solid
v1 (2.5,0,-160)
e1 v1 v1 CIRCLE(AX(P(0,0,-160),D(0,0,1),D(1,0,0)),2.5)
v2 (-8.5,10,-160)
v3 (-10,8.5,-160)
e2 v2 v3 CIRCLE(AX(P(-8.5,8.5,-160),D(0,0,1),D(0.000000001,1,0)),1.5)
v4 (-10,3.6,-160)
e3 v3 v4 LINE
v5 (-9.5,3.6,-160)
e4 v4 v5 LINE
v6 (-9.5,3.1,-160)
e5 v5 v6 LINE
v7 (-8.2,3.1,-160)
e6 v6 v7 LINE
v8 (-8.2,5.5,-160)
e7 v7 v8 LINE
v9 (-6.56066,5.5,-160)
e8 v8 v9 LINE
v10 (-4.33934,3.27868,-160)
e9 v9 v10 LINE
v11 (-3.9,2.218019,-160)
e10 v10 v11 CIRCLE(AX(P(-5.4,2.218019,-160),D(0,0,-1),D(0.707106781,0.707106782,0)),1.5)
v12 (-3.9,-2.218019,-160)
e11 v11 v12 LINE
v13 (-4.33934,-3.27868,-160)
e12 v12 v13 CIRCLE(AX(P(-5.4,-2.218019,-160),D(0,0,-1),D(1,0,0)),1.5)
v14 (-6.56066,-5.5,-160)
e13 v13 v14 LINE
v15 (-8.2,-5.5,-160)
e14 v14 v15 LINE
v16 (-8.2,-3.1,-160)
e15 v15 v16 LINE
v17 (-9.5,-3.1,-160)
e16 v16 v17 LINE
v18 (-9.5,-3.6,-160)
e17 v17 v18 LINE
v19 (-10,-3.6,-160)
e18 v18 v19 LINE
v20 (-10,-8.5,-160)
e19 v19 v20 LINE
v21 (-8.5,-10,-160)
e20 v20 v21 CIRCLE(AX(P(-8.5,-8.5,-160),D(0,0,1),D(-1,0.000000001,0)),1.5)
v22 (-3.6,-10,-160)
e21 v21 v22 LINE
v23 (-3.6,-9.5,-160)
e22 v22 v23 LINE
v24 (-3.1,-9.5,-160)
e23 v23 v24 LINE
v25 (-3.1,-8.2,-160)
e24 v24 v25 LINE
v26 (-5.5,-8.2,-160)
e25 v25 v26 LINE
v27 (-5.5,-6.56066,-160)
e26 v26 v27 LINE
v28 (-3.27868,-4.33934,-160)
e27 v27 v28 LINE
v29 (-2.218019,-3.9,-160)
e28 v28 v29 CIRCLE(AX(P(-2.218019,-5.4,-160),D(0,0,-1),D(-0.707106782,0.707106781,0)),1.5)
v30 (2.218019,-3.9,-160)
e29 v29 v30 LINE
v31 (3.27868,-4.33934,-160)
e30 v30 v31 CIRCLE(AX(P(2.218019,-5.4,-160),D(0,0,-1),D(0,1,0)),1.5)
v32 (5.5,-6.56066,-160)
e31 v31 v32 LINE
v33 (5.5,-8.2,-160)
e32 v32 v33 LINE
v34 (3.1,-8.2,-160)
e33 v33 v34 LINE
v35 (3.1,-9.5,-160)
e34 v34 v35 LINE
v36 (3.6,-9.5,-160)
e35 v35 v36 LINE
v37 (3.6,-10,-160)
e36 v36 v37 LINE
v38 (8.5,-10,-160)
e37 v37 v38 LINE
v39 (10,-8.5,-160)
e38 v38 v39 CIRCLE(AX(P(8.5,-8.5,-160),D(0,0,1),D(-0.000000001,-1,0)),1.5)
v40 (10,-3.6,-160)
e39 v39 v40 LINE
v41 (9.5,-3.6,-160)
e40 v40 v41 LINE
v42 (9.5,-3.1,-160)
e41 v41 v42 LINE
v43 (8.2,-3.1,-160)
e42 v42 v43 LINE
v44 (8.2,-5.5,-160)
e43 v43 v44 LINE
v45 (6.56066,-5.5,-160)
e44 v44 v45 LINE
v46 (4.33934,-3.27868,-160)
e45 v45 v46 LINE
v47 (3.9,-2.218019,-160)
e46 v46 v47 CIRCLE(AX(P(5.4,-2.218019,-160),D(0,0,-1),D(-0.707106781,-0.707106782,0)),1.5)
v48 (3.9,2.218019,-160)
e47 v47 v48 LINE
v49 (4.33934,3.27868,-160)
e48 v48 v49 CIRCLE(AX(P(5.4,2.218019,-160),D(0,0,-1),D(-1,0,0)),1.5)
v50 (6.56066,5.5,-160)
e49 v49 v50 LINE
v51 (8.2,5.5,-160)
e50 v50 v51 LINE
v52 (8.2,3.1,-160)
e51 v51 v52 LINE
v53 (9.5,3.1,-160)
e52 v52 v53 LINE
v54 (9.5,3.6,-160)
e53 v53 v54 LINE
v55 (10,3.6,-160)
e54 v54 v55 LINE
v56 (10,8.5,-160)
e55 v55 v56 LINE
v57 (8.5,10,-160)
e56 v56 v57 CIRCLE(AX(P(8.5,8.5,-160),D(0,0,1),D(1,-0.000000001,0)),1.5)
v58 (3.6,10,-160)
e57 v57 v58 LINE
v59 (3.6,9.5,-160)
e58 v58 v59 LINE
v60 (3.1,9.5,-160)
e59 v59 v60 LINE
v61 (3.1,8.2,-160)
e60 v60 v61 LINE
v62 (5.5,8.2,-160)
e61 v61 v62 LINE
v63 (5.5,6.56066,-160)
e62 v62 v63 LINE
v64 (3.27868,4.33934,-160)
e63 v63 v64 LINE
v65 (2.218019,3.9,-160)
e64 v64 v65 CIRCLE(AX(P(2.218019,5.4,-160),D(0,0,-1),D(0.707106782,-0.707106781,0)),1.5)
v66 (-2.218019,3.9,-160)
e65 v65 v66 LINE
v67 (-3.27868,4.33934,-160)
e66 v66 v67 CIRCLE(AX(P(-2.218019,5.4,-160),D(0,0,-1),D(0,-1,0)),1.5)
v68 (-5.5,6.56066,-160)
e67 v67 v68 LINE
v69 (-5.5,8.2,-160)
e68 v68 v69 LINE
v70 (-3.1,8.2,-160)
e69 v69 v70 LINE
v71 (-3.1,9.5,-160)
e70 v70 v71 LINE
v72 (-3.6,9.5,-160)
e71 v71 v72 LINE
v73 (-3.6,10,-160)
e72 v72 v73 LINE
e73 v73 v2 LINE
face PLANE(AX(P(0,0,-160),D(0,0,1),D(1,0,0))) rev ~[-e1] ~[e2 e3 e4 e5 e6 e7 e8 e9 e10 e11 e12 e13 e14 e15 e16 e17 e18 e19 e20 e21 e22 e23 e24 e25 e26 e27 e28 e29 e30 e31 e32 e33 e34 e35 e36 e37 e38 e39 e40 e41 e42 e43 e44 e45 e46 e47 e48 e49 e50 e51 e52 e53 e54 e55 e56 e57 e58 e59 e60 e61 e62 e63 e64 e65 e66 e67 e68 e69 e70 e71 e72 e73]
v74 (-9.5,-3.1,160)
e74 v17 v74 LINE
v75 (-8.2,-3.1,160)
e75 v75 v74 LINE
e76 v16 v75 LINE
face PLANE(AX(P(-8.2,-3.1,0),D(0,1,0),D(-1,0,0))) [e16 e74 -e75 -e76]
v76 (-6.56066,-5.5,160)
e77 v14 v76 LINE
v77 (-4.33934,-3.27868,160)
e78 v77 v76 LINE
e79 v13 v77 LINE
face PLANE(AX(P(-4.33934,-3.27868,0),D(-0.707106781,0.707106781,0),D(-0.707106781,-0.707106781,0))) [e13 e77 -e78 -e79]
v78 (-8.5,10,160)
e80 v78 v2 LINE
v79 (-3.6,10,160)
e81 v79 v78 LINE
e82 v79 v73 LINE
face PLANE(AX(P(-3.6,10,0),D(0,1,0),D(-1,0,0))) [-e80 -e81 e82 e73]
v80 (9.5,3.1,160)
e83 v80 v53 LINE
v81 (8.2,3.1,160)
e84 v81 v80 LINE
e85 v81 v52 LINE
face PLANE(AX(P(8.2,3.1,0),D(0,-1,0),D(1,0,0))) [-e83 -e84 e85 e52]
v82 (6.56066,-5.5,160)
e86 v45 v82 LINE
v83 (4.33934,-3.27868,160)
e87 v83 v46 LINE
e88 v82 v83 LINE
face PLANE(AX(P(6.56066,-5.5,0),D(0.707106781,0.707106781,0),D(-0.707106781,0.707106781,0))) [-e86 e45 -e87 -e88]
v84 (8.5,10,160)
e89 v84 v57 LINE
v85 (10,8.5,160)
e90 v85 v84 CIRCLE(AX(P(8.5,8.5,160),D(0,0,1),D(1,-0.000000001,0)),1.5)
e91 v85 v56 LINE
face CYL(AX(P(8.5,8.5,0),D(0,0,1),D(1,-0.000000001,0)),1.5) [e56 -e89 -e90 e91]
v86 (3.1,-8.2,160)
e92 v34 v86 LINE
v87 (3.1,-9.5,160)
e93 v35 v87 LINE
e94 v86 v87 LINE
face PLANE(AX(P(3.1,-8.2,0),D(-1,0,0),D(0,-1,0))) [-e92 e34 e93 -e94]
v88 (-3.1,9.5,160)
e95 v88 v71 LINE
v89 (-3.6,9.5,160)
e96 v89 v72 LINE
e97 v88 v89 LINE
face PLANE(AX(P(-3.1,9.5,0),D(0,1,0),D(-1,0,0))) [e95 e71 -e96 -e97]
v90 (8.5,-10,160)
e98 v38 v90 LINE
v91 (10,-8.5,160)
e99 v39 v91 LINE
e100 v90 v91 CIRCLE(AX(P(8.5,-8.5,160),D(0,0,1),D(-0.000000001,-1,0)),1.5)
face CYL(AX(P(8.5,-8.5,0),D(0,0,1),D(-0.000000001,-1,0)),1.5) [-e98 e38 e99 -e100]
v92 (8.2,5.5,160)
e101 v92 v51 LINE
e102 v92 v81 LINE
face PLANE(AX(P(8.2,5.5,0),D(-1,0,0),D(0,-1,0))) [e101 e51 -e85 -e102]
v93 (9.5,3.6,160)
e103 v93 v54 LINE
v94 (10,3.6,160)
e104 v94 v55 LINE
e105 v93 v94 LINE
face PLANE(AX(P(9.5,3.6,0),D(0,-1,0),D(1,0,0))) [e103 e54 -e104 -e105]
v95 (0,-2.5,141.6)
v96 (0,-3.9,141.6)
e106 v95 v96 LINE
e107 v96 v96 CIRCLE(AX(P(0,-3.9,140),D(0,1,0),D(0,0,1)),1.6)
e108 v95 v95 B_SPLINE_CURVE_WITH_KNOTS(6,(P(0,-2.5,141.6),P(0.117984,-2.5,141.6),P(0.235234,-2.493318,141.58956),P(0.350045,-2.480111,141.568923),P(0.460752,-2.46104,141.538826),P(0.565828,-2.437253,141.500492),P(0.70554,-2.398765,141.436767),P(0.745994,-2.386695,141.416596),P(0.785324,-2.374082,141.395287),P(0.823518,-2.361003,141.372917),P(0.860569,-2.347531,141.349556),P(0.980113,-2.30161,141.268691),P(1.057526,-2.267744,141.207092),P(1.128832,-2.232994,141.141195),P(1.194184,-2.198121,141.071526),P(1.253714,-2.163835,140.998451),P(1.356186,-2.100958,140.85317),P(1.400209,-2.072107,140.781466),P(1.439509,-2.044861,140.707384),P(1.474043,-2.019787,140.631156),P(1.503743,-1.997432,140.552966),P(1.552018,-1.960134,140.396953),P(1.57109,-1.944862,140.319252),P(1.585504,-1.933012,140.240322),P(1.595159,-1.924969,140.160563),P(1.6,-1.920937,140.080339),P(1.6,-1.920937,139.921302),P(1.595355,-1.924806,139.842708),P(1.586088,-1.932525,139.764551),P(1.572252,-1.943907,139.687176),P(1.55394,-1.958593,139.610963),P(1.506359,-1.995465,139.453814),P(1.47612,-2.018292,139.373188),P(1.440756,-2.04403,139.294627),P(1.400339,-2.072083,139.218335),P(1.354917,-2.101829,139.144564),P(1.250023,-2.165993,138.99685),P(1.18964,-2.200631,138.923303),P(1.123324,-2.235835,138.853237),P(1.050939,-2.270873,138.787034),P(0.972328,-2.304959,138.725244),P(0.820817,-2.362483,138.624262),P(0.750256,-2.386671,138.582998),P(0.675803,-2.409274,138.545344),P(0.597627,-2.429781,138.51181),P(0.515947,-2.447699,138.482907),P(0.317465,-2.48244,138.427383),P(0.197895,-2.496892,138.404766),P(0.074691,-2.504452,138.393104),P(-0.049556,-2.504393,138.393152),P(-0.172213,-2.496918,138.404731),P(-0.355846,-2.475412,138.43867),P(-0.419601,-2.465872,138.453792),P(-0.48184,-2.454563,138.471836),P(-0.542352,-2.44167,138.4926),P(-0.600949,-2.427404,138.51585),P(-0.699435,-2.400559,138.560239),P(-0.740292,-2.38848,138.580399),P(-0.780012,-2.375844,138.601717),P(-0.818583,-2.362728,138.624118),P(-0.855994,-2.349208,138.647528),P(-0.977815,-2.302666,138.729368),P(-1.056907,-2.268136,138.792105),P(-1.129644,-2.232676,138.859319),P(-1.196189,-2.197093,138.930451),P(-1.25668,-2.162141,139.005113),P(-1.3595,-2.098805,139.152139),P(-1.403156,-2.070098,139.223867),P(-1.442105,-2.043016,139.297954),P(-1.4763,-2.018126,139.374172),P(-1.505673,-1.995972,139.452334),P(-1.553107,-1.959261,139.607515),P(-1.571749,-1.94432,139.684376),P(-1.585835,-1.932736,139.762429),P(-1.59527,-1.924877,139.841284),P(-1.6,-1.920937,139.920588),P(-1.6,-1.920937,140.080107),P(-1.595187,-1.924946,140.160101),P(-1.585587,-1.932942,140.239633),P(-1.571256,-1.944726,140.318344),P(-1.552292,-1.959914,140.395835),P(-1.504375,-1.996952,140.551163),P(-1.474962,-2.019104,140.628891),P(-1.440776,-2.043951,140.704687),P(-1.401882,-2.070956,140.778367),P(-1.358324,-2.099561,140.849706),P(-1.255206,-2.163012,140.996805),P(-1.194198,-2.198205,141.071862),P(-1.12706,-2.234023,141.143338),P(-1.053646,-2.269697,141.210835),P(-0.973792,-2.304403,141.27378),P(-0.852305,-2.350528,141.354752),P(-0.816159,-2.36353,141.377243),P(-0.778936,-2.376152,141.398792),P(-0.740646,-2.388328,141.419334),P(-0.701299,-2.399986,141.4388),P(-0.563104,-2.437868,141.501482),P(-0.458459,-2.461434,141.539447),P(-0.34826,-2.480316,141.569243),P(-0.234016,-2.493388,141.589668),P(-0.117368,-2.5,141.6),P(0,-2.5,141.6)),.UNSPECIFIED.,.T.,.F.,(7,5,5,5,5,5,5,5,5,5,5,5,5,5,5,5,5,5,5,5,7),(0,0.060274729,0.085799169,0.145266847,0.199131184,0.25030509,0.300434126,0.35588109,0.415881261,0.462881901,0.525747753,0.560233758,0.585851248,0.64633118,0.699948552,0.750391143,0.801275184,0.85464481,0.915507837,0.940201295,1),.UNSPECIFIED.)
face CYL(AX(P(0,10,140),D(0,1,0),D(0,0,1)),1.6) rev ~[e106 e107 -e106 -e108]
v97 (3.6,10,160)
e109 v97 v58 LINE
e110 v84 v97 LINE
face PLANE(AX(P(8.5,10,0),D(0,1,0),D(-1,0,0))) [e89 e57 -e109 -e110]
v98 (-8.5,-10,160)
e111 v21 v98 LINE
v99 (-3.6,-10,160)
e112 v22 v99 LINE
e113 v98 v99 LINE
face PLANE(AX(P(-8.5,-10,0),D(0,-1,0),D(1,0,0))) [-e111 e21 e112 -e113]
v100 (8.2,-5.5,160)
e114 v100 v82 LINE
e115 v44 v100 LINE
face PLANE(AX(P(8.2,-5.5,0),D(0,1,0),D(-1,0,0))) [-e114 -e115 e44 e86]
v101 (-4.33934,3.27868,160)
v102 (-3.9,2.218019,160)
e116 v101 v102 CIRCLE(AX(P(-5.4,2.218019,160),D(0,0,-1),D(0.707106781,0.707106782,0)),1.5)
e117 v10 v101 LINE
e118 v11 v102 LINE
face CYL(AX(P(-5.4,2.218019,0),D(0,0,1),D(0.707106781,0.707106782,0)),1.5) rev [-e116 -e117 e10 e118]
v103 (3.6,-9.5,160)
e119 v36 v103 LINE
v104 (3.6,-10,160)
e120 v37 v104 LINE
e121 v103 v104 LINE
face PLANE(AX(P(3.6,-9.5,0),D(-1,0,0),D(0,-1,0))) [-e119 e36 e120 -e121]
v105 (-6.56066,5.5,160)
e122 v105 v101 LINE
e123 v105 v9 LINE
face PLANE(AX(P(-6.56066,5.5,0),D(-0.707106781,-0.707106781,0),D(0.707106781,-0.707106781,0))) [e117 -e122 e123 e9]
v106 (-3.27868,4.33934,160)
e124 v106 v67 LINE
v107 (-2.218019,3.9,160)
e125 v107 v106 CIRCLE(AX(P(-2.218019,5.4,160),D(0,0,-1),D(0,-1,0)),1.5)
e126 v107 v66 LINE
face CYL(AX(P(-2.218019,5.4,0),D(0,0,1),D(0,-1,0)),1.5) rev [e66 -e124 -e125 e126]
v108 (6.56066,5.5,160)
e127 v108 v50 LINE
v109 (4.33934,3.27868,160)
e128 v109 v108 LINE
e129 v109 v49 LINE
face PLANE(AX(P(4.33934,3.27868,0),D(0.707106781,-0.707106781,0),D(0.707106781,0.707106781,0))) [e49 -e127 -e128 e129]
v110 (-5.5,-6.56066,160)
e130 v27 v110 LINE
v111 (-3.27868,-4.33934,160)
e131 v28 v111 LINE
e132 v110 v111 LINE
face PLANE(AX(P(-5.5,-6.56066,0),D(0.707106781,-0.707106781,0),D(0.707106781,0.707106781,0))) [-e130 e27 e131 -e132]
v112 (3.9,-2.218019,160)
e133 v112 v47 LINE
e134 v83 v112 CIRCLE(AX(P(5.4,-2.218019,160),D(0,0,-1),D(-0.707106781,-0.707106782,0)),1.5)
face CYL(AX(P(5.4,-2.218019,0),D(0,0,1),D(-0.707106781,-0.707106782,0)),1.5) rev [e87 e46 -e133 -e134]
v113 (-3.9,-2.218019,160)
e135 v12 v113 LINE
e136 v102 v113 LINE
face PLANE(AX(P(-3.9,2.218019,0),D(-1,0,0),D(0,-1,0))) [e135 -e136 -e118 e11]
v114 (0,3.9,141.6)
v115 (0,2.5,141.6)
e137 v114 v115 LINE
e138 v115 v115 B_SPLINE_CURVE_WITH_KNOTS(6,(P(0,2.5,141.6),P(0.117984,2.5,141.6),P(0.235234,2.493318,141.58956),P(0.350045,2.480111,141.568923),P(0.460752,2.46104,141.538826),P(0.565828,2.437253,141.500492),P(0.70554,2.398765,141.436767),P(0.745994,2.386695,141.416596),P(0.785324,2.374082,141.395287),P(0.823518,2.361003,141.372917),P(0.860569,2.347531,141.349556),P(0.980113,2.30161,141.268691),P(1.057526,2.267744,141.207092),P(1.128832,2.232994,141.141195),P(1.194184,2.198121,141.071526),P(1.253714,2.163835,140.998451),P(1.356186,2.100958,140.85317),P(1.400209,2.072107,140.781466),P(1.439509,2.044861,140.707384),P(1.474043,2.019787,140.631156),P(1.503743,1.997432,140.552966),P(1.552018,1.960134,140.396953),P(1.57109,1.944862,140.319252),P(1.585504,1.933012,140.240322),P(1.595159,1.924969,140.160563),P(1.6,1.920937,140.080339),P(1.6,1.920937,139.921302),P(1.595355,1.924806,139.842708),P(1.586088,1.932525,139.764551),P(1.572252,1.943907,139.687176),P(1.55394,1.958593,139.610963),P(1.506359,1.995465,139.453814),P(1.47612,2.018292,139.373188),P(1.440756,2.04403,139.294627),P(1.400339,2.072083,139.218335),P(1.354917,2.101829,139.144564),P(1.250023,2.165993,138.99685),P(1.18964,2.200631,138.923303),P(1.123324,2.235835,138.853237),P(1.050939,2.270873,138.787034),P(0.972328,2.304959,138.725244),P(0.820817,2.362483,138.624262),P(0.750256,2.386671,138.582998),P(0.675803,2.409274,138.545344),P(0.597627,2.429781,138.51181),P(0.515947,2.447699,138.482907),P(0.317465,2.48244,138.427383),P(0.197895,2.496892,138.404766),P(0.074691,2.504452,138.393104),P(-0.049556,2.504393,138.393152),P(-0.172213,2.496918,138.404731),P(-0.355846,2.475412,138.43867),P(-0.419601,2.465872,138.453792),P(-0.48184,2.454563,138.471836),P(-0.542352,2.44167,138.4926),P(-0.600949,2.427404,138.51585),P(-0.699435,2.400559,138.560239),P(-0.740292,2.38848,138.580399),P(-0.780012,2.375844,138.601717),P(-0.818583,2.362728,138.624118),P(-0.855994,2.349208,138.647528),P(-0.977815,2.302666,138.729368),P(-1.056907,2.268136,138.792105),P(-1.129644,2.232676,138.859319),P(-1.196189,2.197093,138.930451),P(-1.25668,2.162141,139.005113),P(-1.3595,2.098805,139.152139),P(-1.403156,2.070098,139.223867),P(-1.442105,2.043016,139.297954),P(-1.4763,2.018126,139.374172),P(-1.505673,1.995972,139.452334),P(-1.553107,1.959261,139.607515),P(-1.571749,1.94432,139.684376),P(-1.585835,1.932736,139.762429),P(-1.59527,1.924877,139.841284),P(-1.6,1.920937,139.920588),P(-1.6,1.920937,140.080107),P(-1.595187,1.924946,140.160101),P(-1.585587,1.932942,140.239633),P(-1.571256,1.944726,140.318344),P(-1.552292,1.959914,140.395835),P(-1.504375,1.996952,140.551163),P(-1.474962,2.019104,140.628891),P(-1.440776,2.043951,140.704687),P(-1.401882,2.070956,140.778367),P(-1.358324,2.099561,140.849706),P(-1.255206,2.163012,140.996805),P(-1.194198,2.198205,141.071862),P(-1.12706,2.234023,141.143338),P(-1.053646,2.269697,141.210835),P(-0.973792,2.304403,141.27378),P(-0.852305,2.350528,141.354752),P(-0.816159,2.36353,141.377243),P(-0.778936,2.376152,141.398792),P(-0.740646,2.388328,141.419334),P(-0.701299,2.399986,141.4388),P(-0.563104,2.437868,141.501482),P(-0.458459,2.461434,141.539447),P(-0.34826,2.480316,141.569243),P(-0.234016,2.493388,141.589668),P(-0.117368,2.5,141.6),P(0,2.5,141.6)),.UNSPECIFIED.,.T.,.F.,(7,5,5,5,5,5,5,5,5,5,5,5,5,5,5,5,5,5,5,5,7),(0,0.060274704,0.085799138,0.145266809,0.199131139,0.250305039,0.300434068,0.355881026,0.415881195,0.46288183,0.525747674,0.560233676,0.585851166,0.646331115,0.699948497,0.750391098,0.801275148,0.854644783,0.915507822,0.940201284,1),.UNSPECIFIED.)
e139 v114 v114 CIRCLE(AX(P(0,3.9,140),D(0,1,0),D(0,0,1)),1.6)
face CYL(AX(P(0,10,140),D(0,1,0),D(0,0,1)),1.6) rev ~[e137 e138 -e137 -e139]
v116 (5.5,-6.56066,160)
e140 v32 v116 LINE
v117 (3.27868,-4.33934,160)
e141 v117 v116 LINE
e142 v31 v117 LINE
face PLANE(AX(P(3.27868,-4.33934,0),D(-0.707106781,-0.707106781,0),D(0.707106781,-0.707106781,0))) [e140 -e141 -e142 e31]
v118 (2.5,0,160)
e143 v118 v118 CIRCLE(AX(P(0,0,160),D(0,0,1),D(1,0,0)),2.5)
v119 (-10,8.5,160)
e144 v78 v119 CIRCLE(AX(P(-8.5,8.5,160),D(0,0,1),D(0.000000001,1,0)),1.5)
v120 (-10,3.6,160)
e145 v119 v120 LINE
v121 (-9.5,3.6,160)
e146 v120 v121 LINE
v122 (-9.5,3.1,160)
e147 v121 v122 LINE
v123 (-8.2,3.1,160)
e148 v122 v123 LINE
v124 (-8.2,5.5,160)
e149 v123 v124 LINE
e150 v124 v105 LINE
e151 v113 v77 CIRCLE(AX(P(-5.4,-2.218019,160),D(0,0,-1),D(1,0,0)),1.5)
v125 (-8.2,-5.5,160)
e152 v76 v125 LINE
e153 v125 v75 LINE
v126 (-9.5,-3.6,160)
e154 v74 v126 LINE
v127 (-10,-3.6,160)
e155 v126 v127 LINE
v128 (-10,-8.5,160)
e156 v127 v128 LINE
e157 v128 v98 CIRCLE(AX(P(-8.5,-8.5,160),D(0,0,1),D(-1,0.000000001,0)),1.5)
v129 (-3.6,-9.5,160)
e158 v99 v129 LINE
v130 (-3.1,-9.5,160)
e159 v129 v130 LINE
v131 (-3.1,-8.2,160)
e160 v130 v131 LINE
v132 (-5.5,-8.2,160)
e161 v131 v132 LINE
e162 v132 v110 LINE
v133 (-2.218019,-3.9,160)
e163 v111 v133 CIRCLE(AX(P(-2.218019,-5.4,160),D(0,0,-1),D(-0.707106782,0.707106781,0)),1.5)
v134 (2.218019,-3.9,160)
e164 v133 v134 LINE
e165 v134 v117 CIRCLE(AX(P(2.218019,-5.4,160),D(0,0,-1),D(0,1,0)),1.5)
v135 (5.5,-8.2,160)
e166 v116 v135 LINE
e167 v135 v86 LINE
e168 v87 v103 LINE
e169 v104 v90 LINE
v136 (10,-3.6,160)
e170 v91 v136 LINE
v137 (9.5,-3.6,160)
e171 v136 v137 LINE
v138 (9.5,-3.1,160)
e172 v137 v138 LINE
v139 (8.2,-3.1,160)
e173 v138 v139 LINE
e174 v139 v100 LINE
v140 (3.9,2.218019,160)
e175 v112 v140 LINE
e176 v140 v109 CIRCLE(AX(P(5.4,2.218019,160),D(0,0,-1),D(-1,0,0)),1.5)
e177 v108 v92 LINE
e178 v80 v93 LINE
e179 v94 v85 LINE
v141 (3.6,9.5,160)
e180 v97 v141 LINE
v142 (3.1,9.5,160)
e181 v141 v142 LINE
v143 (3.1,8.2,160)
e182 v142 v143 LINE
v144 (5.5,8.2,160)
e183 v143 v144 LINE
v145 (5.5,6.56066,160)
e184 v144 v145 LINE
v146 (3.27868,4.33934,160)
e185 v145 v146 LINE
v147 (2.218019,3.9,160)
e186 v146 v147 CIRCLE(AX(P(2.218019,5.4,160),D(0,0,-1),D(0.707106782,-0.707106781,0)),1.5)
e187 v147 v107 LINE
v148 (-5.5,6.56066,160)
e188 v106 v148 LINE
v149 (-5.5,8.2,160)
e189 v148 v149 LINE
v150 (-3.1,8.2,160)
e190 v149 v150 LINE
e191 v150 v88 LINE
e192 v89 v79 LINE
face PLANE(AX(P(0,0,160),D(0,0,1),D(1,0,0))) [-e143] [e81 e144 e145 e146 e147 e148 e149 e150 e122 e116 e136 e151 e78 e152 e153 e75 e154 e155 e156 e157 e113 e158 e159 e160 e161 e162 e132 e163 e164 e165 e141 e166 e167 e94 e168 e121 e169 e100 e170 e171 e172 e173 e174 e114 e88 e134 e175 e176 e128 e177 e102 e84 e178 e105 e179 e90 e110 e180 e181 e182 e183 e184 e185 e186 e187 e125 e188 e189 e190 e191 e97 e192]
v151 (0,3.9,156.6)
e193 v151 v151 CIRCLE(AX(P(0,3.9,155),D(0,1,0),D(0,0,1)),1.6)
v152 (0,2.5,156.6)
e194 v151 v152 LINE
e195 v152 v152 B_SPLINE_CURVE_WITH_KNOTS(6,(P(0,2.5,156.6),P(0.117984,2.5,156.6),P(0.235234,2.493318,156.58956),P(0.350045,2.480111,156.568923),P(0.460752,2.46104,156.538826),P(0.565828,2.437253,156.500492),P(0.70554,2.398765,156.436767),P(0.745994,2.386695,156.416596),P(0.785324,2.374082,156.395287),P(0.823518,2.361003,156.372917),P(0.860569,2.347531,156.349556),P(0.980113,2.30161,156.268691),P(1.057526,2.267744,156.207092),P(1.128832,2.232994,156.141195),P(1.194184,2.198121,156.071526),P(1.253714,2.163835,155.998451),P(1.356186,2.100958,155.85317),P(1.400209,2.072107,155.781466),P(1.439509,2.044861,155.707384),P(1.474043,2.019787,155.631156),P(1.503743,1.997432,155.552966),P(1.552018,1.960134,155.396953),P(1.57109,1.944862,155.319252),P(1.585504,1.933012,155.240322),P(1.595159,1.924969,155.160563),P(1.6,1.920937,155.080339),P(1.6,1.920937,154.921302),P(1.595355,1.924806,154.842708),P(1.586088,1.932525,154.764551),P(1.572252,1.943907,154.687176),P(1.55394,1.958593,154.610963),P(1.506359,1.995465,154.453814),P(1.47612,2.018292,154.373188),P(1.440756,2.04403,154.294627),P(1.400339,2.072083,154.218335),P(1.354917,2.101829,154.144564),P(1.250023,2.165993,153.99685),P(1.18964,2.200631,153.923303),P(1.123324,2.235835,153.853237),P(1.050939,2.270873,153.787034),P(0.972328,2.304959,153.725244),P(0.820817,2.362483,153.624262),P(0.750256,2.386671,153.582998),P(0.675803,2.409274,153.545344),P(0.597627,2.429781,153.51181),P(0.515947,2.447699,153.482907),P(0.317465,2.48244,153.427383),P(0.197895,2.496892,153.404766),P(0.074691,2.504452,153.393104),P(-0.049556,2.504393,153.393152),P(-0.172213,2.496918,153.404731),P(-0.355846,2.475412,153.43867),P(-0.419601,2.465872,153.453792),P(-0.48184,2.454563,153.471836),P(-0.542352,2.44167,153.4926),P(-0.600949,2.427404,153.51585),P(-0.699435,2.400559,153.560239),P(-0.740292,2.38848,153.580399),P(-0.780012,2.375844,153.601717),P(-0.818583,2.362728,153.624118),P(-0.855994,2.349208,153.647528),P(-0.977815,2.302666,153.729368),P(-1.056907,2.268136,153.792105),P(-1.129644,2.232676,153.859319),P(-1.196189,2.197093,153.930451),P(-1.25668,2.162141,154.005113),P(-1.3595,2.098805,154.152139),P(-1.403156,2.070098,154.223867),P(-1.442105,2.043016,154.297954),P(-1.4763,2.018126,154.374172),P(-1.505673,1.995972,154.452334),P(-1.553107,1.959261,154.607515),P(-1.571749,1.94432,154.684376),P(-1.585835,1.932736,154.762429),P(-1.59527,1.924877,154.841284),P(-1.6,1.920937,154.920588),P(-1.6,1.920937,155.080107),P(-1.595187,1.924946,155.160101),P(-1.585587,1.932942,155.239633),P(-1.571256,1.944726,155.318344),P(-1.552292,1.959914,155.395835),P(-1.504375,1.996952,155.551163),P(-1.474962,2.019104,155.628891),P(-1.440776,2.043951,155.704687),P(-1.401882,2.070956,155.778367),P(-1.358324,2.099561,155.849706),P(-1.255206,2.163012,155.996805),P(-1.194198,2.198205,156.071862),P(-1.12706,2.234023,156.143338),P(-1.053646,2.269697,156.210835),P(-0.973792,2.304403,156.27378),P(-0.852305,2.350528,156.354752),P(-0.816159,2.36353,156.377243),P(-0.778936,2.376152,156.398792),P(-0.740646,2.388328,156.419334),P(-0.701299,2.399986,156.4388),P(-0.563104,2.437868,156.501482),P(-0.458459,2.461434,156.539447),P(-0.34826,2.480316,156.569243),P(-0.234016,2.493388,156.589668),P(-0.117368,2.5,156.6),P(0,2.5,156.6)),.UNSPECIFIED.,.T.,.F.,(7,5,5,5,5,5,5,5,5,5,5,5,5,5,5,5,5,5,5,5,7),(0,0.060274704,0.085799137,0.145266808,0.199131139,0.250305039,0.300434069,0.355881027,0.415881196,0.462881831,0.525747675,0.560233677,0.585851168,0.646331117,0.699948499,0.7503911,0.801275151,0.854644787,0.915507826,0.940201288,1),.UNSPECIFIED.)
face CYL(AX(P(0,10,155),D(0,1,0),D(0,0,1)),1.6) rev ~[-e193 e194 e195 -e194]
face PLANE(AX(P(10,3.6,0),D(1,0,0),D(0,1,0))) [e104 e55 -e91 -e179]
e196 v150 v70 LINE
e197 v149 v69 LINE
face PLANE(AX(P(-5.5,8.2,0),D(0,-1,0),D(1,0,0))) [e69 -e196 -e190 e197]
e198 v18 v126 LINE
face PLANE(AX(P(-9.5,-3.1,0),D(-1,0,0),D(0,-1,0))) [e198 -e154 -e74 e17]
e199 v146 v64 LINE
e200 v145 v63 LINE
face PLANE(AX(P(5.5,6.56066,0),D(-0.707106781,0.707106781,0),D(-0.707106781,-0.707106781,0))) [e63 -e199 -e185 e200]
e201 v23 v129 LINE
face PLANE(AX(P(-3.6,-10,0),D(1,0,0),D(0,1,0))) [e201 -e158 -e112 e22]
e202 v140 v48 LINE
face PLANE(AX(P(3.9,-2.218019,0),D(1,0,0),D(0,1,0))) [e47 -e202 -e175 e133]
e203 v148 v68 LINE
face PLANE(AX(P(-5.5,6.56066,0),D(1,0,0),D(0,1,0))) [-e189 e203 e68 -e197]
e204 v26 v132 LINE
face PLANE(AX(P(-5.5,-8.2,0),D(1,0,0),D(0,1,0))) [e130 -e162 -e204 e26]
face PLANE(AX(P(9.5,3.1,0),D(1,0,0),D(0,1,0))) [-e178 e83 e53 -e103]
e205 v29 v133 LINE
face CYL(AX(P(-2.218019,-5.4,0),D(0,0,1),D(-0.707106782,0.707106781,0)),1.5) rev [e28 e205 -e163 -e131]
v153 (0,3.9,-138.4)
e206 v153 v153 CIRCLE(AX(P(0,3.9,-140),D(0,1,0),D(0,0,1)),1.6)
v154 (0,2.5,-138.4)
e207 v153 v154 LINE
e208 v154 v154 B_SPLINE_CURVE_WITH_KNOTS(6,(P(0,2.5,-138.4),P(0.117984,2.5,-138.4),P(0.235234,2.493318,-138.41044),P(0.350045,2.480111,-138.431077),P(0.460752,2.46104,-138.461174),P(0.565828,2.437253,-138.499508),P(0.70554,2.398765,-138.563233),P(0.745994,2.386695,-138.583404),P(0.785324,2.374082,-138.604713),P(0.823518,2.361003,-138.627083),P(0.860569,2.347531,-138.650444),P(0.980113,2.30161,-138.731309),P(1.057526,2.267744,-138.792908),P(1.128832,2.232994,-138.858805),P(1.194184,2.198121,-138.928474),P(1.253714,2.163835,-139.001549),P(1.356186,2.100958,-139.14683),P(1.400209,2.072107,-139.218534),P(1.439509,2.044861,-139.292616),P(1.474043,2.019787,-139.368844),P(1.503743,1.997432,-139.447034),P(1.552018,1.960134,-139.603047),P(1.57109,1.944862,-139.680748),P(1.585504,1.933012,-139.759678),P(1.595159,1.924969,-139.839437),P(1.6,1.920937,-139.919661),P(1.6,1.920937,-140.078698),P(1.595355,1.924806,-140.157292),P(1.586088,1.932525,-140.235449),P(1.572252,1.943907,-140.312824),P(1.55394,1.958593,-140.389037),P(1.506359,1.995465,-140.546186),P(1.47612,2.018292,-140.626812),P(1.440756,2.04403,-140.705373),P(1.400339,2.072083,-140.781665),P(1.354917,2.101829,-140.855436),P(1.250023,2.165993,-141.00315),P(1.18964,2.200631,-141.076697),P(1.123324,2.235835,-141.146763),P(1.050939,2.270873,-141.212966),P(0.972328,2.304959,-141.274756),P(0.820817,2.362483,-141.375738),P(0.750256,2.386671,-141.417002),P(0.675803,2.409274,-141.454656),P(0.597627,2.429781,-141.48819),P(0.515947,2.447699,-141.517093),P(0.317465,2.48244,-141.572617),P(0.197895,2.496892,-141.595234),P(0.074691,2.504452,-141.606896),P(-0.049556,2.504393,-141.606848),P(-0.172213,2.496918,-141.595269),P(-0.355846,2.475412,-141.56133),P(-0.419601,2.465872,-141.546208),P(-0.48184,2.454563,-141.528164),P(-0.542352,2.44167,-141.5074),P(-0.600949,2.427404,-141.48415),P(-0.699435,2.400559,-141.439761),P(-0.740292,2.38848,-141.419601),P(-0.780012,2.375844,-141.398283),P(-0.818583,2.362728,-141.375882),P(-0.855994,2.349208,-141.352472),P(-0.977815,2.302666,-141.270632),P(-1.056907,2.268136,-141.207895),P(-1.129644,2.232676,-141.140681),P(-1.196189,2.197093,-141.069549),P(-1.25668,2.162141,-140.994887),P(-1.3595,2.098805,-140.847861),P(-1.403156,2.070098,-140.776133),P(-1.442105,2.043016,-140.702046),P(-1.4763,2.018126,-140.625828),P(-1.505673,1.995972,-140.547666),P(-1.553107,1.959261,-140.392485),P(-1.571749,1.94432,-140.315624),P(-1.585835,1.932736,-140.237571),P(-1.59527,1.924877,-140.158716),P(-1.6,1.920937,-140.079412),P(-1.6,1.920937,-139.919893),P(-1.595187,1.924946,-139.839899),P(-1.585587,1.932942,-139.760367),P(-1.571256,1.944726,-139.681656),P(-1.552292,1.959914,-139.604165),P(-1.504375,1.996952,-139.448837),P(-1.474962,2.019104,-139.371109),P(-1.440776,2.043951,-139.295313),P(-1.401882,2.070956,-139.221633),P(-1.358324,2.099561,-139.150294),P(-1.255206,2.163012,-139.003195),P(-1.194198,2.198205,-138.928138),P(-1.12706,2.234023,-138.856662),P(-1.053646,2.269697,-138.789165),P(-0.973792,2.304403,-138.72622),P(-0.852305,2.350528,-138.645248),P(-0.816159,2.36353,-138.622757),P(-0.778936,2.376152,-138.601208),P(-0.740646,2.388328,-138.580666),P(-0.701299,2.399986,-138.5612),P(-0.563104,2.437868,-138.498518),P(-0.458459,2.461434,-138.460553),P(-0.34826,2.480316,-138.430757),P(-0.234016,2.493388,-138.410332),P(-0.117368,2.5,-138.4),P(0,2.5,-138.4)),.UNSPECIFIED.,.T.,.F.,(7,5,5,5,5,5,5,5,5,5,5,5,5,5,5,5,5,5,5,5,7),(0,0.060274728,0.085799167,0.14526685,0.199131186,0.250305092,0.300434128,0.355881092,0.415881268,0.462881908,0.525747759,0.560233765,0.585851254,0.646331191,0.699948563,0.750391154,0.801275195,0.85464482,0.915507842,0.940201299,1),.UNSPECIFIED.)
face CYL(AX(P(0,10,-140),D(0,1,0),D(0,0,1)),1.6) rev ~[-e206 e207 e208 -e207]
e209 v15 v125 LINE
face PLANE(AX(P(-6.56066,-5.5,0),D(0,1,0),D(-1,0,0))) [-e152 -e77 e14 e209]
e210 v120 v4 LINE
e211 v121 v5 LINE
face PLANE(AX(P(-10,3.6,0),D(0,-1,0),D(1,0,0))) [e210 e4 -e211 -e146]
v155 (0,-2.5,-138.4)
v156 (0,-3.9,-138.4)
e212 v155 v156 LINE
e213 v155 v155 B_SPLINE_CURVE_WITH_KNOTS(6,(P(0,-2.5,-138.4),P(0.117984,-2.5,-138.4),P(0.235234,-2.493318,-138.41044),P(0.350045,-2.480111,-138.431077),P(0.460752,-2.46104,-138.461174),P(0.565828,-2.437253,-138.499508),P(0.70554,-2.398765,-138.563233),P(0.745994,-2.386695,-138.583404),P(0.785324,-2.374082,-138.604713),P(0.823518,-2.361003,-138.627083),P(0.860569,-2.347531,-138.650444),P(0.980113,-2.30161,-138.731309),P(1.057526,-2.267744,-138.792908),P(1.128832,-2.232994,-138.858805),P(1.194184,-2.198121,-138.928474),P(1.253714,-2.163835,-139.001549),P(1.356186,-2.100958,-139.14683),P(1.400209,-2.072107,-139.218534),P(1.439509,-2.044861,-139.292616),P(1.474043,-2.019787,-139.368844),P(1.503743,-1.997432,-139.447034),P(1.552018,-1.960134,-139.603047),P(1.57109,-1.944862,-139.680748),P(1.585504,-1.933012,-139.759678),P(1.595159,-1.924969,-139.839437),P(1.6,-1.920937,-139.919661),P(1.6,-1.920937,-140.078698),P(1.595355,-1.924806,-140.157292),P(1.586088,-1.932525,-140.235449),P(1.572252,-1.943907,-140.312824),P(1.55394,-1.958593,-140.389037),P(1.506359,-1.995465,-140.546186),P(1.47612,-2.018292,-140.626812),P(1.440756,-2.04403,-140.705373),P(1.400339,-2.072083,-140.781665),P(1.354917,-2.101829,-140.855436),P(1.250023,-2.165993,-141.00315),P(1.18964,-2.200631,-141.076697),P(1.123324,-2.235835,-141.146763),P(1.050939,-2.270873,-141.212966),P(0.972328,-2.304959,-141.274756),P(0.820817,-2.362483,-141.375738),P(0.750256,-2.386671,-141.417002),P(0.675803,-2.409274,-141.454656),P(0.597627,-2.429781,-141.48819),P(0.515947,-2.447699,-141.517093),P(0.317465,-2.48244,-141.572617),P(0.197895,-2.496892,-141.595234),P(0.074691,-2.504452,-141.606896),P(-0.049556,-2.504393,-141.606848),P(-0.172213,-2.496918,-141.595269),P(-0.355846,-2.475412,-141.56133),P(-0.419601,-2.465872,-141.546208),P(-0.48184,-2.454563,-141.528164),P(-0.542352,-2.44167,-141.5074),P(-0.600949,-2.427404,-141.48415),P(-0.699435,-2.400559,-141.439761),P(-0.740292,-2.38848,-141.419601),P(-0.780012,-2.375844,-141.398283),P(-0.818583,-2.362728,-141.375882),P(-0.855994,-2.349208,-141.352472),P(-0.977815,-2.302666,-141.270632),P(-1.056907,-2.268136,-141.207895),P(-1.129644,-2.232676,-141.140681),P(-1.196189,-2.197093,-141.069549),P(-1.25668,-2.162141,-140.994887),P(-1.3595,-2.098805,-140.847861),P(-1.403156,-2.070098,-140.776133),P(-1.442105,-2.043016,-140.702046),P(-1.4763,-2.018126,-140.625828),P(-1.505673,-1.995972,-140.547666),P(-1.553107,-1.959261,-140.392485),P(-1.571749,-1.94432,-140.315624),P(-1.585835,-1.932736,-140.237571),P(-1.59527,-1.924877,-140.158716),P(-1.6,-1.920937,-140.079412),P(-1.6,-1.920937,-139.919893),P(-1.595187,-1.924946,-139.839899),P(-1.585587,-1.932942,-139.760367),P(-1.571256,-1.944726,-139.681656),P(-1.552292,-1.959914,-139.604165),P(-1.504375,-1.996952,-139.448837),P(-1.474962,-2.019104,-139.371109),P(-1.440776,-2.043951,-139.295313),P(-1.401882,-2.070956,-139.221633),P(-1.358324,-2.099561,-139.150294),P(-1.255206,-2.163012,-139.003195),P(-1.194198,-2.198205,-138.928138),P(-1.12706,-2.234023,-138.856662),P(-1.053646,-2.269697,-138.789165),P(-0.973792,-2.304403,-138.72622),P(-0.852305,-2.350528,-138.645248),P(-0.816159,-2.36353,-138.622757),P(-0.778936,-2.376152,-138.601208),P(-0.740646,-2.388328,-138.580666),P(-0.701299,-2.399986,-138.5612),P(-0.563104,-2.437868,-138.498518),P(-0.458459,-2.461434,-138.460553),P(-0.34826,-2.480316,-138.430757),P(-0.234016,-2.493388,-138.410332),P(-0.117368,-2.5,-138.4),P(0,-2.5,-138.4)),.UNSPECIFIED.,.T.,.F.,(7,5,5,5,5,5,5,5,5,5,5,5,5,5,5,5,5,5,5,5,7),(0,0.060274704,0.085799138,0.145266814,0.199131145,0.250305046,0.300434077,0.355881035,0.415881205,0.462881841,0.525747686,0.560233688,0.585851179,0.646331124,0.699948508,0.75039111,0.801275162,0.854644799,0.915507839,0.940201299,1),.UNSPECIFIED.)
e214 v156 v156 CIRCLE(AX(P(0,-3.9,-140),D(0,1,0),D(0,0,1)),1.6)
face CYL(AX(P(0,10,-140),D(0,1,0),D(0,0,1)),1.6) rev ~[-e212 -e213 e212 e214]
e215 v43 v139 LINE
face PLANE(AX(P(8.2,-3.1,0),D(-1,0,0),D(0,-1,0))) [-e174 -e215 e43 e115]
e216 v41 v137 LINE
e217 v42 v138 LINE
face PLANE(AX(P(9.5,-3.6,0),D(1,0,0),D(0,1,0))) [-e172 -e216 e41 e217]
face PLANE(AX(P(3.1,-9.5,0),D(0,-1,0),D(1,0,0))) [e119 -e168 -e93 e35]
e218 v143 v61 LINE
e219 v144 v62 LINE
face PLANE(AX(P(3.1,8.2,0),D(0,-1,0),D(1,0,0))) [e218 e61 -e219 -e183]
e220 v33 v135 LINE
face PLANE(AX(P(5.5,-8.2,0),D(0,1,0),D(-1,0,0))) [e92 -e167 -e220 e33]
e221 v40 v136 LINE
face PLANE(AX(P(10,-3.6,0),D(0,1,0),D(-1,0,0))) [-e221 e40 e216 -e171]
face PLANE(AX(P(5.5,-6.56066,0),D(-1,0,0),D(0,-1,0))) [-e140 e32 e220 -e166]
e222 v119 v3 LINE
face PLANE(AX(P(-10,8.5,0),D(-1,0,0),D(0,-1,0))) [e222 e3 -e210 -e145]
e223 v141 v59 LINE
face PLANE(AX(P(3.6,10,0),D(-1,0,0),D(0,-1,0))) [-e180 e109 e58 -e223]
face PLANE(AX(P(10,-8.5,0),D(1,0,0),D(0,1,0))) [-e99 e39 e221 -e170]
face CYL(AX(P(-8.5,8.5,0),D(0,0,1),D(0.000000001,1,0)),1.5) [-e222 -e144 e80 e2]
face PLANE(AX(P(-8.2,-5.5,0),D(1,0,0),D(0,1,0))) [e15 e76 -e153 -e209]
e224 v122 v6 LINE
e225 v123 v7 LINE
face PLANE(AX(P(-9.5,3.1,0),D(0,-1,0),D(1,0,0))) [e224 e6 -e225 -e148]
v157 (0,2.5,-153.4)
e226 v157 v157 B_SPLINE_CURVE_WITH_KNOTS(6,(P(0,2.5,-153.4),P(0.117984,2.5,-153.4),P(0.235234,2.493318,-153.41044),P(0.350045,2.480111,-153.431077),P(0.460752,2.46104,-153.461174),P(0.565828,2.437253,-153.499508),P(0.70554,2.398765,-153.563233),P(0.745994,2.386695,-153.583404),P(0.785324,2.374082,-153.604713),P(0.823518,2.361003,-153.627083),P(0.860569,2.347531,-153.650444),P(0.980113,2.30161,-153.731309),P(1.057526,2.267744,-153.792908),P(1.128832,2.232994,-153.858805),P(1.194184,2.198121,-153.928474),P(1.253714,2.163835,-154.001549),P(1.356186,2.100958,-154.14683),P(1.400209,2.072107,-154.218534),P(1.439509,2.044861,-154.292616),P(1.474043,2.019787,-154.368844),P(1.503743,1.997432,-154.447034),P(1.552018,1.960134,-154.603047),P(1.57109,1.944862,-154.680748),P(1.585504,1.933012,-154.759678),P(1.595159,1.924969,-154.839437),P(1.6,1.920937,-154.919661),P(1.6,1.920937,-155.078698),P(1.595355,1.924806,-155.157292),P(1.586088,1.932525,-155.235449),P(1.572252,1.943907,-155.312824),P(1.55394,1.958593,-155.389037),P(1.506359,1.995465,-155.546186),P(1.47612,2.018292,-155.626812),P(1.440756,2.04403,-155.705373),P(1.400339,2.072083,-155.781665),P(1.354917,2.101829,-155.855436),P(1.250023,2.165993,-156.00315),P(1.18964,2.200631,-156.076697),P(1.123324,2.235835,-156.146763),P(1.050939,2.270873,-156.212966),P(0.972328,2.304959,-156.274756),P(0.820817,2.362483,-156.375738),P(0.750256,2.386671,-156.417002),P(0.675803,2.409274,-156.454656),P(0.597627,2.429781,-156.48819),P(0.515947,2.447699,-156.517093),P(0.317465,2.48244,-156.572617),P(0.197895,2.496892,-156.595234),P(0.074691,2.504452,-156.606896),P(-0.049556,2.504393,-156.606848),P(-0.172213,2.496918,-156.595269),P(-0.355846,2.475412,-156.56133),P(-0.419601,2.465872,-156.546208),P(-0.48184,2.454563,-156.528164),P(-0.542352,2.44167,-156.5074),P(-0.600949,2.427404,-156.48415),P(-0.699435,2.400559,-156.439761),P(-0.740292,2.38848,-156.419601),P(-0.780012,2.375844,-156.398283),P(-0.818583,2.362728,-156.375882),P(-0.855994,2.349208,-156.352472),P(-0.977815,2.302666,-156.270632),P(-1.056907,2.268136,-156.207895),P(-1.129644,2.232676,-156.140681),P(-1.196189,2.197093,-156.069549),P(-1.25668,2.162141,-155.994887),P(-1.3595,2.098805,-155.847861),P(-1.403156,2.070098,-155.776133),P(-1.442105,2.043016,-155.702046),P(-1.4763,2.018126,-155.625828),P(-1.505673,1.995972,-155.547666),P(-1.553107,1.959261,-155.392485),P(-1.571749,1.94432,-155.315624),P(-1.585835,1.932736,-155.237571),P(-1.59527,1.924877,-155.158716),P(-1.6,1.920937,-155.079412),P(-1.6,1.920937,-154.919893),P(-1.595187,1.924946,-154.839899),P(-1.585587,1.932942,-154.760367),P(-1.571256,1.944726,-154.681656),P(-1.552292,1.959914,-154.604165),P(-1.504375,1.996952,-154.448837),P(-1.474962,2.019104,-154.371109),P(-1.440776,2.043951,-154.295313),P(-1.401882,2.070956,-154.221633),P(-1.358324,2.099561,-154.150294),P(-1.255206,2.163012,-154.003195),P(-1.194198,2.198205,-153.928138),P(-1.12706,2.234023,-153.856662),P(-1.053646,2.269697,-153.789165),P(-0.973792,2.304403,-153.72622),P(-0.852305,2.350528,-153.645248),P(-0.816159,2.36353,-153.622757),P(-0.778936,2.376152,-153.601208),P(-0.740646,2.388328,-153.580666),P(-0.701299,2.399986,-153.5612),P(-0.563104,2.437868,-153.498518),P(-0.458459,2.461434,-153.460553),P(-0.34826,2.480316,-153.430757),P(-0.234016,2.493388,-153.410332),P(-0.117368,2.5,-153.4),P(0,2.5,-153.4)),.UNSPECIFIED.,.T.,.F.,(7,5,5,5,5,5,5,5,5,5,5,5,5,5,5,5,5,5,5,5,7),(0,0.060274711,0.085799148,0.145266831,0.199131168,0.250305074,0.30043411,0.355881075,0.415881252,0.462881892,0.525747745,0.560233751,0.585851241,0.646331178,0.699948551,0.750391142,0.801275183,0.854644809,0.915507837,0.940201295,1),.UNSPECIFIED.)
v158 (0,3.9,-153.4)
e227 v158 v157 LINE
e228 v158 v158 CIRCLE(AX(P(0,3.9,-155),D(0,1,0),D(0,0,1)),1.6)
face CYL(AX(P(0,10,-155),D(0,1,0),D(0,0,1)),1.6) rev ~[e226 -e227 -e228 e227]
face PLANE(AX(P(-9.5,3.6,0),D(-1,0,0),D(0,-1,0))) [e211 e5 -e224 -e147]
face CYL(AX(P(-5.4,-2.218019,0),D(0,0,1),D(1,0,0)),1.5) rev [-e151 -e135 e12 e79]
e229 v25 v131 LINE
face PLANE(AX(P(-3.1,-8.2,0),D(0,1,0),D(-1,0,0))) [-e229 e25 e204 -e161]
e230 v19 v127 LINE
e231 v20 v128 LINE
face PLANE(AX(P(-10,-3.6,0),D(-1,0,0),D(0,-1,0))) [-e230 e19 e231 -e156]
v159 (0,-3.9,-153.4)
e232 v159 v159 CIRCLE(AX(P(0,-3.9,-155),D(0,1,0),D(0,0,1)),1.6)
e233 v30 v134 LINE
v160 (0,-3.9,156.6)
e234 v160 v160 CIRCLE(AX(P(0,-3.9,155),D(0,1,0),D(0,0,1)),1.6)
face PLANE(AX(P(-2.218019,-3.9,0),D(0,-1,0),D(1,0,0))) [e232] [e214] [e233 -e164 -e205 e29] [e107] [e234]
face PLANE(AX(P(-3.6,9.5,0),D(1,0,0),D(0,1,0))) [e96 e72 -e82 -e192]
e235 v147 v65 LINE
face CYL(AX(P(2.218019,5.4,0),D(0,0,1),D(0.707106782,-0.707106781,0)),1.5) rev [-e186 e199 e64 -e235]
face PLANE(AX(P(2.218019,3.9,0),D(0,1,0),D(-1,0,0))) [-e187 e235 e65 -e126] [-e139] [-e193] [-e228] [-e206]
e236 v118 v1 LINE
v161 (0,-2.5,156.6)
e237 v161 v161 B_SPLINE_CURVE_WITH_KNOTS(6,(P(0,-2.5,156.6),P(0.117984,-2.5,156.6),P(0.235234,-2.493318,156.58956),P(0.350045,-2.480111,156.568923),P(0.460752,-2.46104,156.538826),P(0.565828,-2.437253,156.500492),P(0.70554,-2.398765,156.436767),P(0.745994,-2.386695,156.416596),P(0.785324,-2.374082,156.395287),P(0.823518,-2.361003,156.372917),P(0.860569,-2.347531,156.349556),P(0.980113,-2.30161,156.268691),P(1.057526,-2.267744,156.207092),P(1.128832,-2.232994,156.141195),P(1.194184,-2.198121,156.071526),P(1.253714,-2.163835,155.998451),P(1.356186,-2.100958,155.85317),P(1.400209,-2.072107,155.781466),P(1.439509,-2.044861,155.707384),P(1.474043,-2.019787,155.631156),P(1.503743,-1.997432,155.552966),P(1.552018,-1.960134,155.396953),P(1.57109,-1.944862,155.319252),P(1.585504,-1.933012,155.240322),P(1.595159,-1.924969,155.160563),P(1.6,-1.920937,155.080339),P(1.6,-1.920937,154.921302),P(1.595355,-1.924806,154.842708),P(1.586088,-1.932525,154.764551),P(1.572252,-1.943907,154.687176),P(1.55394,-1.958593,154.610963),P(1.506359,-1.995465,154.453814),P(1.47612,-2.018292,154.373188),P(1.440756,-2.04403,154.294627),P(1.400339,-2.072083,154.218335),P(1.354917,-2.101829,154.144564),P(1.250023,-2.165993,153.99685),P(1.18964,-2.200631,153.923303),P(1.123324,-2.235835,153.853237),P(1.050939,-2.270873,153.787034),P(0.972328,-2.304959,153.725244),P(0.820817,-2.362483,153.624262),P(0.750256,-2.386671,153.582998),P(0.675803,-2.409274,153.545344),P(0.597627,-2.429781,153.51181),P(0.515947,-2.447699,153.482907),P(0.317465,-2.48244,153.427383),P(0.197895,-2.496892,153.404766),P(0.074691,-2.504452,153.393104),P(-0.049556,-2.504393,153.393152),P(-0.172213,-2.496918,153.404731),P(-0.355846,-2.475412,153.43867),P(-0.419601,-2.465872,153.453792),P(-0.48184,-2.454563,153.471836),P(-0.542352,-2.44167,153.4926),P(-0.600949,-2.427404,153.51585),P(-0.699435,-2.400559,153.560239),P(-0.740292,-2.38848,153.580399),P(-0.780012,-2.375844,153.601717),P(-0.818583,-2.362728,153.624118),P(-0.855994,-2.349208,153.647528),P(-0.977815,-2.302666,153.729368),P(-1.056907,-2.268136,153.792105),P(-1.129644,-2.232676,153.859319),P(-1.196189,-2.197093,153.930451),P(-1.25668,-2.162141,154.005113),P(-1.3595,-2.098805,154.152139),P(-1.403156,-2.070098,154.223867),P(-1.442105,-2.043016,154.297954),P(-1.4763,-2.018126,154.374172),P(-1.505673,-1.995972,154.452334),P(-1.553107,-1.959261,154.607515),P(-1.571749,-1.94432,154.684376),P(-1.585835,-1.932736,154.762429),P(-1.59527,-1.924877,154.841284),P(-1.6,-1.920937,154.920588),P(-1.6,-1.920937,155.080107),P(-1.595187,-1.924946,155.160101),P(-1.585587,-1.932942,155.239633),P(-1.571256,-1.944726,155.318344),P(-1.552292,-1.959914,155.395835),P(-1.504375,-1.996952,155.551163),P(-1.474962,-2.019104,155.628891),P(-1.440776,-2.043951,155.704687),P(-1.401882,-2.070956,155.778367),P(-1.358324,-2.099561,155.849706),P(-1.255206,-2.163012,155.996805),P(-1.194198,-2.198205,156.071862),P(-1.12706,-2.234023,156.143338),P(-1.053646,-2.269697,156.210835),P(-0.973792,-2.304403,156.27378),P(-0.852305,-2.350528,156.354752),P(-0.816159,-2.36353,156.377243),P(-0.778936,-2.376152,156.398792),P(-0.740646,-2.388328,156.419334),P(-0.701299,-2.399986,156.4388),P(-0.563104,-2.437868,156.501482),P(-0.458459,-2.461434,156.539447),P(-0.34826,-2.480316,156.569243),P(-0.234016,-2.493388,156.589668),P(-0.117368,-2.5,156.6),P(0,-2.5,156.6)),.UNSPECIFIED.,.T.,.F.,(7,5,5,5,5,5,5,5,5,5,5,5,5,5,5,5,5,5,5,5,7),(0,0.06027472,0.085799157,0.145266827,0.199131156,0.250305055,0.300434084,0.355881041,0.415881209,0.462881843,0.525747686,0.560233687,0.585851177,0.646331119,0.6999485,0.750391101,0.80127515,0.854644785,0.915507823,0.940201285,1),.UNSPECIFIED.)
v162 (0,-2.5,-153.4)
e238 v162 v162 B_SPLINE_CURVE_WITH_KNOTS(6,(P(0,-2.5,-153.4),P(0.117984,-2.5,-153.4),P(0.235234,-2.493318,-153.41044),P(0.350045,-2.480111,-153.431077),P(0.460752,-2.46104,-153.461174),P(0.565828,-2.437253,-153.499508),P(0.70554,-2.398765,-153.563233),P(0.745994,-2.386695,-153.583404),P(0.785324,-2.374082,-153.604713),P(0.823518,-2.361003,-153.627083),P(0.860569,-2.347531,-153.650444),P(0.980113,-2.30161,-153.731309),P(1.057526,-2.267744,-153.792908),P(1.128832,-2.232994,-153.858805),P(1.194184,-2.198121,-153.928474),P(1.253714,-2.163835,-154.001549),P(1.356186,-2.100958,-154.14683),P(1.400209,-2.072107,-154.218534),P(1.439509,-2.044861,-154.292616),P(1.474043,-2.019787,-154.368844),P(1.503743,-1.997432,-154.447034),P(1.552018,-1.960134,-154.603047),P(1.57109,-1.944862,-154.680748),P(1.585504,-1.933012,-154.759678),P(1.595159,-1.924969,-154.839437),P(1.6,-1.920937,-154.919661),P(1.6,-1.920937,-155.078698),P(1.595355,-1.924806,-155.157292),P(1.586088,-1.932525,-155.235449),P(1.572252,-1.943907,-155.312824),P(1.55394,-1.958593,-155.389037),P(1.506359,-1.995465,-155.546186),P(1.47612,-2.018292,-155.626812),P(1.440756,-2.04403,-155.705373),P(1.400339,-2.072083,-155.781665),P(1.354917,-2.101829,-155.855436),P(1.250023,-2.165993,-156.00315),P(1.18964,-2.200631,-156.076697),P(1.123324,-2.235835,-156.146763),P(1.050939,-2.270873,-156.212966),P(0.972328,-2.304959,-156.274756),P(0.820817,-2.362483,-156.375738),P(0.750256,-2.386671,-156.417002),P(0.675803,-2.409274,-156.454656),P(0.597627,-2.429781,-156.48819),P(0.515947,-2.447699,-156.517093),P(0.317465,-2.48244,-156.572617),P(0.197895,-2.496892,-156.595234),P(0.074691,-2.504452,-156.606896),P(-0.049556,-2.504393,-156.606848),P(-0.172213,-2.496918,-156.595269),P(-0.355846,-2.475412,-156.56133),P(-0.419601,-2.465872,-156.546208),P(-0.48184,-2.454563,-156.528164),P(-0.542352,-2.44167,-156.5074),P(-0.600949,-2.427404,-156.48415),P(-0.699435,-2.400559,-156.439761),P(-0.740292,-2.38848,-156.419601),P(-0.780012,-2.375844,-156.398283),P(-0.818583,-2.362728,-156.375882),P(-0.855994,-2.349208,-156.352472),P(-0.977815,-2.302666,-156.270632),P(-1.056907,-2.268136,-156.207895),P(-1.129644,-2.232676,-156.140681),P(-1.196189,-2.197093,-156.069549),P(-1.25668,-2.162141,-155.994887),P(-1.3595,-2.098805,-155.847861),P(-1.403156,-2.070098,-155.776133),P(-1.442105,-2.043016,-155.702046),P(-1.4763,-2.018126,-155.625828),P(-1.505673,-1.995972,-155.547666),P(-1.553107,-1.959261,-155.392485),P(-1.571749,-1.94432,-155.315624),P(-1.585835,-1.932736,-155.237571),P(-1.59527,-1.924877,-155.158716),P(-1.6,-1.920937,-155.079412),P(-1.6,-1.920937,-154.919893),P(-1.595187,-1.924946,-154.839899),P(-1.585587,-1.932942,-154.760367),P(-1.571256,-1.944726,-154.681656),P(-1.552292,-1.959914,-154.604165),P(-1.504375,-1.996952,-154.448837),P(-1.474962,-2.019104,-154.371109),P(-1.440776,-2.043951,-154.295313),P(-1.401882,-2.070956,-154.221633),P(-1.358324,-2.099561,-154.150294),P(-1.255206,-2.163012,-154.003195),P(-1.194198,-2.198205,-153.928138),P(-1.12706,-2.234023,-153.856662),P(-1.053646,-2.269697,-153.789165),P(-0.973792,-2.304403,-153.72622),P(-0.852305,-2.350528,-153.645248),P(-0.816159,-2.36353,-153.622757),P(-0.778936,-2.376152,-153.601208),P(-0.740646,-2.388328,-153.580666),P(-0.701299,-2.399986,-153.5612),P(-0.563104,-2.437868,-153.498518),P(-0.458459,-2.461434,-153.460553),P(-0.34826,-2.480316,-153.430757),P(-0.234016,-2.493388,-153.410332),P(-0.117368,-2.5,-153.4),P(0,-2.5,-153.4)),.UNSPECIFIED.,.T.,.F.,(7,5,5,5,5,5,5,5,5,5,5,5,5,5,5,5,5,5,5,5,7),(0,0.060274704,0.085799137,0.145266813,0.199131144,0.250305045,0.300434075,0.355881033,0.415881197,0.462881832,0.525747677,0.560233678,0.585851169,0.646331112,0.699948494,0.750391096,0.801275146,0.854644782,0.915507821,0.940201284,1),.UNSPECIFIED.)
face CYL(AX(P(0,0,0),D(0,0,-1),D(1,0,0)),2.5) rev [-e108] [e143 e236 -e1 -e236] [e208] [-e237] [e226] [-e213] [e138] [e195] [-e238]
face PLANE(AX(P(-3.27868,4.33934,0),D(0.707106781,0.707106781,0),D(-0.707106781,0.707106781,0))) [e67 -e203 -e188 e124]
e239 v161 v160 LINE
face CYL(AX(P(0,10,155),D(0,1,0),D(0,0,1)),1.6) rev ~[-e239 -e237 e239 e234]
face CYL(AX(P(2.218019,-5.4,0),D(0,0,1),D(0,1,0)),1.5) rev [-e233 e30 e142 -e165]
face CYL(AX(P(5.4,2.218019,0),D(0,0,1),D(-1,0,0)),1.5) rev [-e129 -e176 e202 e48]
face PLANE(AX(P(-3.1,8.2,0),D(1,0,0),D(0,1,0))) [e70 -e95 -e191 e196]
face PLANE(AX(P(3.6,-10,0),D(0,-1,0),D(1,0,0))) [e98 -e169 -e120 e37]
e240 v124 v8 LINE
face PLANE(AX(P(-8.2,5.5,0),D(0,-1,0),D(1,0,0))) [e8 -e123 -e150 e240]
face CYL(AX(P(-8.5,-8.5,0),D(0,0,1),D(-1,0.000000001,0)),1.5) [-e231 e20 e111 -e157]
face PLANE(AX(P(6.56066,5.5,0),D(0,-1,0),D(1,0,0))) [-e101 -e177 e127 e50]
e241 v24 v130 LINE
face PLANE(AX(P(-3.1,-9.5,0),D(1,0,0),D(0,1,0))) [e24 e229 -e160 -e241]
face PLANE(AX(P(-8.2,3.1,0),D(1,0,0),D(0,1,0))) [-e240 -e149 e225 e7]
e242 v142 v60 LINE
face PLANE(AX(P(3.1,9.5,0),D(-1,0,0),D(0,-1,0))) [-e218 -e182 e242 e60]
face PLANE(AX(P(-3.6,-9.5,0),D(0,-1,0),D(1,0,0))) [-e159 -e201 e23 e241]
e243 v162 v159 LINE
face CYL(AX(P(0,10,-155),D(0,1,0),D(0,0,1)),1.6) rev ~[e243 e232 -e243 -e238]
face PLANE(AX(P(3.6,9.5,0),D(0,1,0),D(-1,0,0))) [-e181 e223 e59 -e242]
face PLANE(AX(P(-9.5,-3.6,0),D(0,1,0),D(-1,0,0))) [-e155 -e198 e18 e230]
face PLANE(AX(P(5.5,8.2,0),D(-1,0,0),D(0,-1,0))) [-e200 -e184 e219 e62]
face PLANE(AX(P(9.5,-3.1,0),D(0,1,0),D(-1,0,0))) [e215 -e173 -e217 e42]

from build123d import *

# Parameters (mm, degrees)
SKETCH_1_R          = 2.5
EXTRUDE_1_DEPTH     = 160
SKETCH_3_R          = 1.6
CUT_EXTRUDE_1_DEPTH = 162.554944214


with BuildPart() as part:
    # 草图1 → 凸台-拉伸1 (new, symmetric)
    with BuildSketch(Plane.XY):
        with BuildLine():
            Line((-6.560660172, 5.5), (-4.339339828, 3.278679656))
            ThreePointArc((-4.339339828, 3.278679656), (-4.014180701, 2.792044633), (-3.9, 2.218019485))
            Line((-3.9, 2.218019485), (-3.9, -2.218019485))
            ThreePointArc((-3.9, -2.218019485), (-4.014180701, -2.792044633), (-4.339339828, -3.278679656))
            Line((-4.339339828, -3.278679656), (-6.560660172, -5.5))
            Line((-6.560660172, -5.5), (-8.2, -5.5))
            Line((-8.2, -5.5), (-8.2, -3.1))
            Line((-8.2, -3.1), (-9.5, -3.1))
            Line((-9.5, -3.1), (-9.5, -3.6))
            Line((-9.5, -3.6), (-10, -3.6))
            Line((-10, -3.6), (-10, -8.5))
            ThreePointArc((-10, -8.5), (-9.560660172, -9.560660172), (-8.5, -10))
            Line((-8.5, -10), (-3.6, -10))
            Line((-3.6, -10), (-3.6, -9.5))
            Line((-3.6, -9.5), (-3.1, -9.5))
            Line((-3.1, -9.5), (-3.1, -8.2))
            Line((-3.1, -8.2), (-5.5, -8.2))
            Line((-5.5, -8.2), (-5.5, -6.560660172))
            Line((-5.5, -6.560660172), (-3.278679656, -4.339339828))
            ThreePointArc((-3.278679656, -4.339339828), (-2.792044633, -4.014180701), (-2.218019485, -3.9))
            Line((-2.218019485, -3.9), (2.218019485, -3.9))
            ThreePointArc((2.218019485, -3.9), (2.792044633, -4.014180701), (3.278679656, -4.339339828))
            Line((3.278679656, -4.339339828), (5.5, -6.560660172))
            Line((5.5, -6.560660172), (5.5, -8.2))
            Line((5.5, -8.2), (3.1, -8.2))
            Line((3.1, -8.2), (3.1, -9.5))
            Line((3.1, -9.5), (3.6, -9.5))
            Line((3.6, -9.5), (3.6, -10))
            Line((3.6, -10), (8.5, -10))
            ThreePointArc((8.5, -10), (9.560660172, -9.560660172), (10, -8.5))
            Line((10, -8.5), (10, -3.6))
            Line((10, -3.6), (9.5, -3.6))
            Line((9.5, -3.6), (9.5, -3.1))
            Line((9.5, -3.1), (8.2, -3.1))
            Line((8.2, -3.1), (8.2, -5.5))
            Line((8.2, -5.5), (6.560660172, -5.5))
            Line((6.560660172, -5.5), (4.339339828, -3.278679656))
            ThreePointArc((4.339339828, -3.278679656), (4.014180701, -2.792044633), (3.9, -2.218019485))
            Line((3.9, -2.218019485), (3.9, 2.218019485))
            ThreePointArc((3.9, 2.218019485), (4.014180701, 2.792044633), (4.339339828, 3.278679656))
            Line((4.339339828, 3.278679656), (6.560660172, 5.5))
            Line((6.560660172, 5.5), (8.2, 5.5))
            Line((8.2, 5.5), (8.2, 3.1))
            Line((8.2, 3.1), (9.5, 3.1))
            Line((9.5, 3.1), (9.5, 3.6))
            Line((9.5, 3.6), (10, 3.6))
            Line((10, 3.6), (10, 8.5))
            ThreePointArc((10, 8.5), (9.560660172, 9.560660172), (8.5, 10))
            Line((8.5, 10), (3.6, 10))
            Line((3.6, 10), (3.6, 9.5))
            Line((3.6, 9.5), (3.1, 9.5))
            Line((3.1, 9.5), (3.1, 8.2))
            Line((3.1, 8.2), (5.5, 8.2))
            Line((5.5, 8.2), (5.5, 6.560660172))
            Line((5.5, 6.560660172), (3.278679656, 4.339339828))
            ThreePointArc((3.278679656, 4.339339828), (2.792044633, 4.014180701), (2.218019485, 3.9))
            Line((2.218019485, 3.9), (-2.218019485, 3.9))
            ThreePointArc((-2.218019485, 3.9), (-2.792044633, 4.014180701), (-3.278679656, 4.339339828))
            Line((-3.278679656, 4.339339828), (-5.5, 6.560660172))
            Line((-5.5, 6.560660172), (-5.5, 8.2))
            Line((-5.5, 8.2), (-3.1, 8.2))
            Line((-3.1, 8.2), (-3.1, 9.5))
            Line((-3.1, 9.5), (-3.6, 9.5))
            Line((-3.6, 9.5), (-3.6, 10))
            Line((-3.6, 10), (-8.5, 10))
            ThreePointArc((-8.5, 10), (-9.560660172, 9.560660172), (-10, 8.5))
            Line((-10, 8.5), (-10, 3.6))
            Line((-10, 3.6), (-9.5, 3.6))
            Line((-9.5, 3.6), (-9.5, 3.1))
            Line((-9.5, 3.1), (-8.2, 3.1))
            Line((-8.2, 3.1), (-8.2, 5.5))
            Line((-8.2, 5.5), (-6.560660172, 5.5))
        make_face()
        Circle(SKETCH_1_R, mode=Mode.SUBTRACT)
    extrude(amount=EXTRUDE_1_DEPTH, both=True)

    # 草图3 → 切除-拉伸1 (cut, through all)
    with BuildSketch(Plane(origin=(0, 10, 0), x_dir=(1, 0, 0), z_dir=(0, 1, 0))):
        with Locations(Location((0, 155, 0), (0, 0, 270))):
            Circle(SKETCH_3_R)
        with Locations(Location((0, 140, 0), (0, 0, 270))):
            Circle(SKETCH_3_R)
        with Locations(Location((0, -155, 0), (0, 0, 270))):
            Circle(SKETCH_3_R)
        with Locations(Location((0, -140, 0), (0, 0, 270))):
            Circle(SKETCH_3_R)
    extrude(amount=-CUT_EXTRUDE_1_DEPTH, mode=Mode.SUBTRACT)


solid = part.part
